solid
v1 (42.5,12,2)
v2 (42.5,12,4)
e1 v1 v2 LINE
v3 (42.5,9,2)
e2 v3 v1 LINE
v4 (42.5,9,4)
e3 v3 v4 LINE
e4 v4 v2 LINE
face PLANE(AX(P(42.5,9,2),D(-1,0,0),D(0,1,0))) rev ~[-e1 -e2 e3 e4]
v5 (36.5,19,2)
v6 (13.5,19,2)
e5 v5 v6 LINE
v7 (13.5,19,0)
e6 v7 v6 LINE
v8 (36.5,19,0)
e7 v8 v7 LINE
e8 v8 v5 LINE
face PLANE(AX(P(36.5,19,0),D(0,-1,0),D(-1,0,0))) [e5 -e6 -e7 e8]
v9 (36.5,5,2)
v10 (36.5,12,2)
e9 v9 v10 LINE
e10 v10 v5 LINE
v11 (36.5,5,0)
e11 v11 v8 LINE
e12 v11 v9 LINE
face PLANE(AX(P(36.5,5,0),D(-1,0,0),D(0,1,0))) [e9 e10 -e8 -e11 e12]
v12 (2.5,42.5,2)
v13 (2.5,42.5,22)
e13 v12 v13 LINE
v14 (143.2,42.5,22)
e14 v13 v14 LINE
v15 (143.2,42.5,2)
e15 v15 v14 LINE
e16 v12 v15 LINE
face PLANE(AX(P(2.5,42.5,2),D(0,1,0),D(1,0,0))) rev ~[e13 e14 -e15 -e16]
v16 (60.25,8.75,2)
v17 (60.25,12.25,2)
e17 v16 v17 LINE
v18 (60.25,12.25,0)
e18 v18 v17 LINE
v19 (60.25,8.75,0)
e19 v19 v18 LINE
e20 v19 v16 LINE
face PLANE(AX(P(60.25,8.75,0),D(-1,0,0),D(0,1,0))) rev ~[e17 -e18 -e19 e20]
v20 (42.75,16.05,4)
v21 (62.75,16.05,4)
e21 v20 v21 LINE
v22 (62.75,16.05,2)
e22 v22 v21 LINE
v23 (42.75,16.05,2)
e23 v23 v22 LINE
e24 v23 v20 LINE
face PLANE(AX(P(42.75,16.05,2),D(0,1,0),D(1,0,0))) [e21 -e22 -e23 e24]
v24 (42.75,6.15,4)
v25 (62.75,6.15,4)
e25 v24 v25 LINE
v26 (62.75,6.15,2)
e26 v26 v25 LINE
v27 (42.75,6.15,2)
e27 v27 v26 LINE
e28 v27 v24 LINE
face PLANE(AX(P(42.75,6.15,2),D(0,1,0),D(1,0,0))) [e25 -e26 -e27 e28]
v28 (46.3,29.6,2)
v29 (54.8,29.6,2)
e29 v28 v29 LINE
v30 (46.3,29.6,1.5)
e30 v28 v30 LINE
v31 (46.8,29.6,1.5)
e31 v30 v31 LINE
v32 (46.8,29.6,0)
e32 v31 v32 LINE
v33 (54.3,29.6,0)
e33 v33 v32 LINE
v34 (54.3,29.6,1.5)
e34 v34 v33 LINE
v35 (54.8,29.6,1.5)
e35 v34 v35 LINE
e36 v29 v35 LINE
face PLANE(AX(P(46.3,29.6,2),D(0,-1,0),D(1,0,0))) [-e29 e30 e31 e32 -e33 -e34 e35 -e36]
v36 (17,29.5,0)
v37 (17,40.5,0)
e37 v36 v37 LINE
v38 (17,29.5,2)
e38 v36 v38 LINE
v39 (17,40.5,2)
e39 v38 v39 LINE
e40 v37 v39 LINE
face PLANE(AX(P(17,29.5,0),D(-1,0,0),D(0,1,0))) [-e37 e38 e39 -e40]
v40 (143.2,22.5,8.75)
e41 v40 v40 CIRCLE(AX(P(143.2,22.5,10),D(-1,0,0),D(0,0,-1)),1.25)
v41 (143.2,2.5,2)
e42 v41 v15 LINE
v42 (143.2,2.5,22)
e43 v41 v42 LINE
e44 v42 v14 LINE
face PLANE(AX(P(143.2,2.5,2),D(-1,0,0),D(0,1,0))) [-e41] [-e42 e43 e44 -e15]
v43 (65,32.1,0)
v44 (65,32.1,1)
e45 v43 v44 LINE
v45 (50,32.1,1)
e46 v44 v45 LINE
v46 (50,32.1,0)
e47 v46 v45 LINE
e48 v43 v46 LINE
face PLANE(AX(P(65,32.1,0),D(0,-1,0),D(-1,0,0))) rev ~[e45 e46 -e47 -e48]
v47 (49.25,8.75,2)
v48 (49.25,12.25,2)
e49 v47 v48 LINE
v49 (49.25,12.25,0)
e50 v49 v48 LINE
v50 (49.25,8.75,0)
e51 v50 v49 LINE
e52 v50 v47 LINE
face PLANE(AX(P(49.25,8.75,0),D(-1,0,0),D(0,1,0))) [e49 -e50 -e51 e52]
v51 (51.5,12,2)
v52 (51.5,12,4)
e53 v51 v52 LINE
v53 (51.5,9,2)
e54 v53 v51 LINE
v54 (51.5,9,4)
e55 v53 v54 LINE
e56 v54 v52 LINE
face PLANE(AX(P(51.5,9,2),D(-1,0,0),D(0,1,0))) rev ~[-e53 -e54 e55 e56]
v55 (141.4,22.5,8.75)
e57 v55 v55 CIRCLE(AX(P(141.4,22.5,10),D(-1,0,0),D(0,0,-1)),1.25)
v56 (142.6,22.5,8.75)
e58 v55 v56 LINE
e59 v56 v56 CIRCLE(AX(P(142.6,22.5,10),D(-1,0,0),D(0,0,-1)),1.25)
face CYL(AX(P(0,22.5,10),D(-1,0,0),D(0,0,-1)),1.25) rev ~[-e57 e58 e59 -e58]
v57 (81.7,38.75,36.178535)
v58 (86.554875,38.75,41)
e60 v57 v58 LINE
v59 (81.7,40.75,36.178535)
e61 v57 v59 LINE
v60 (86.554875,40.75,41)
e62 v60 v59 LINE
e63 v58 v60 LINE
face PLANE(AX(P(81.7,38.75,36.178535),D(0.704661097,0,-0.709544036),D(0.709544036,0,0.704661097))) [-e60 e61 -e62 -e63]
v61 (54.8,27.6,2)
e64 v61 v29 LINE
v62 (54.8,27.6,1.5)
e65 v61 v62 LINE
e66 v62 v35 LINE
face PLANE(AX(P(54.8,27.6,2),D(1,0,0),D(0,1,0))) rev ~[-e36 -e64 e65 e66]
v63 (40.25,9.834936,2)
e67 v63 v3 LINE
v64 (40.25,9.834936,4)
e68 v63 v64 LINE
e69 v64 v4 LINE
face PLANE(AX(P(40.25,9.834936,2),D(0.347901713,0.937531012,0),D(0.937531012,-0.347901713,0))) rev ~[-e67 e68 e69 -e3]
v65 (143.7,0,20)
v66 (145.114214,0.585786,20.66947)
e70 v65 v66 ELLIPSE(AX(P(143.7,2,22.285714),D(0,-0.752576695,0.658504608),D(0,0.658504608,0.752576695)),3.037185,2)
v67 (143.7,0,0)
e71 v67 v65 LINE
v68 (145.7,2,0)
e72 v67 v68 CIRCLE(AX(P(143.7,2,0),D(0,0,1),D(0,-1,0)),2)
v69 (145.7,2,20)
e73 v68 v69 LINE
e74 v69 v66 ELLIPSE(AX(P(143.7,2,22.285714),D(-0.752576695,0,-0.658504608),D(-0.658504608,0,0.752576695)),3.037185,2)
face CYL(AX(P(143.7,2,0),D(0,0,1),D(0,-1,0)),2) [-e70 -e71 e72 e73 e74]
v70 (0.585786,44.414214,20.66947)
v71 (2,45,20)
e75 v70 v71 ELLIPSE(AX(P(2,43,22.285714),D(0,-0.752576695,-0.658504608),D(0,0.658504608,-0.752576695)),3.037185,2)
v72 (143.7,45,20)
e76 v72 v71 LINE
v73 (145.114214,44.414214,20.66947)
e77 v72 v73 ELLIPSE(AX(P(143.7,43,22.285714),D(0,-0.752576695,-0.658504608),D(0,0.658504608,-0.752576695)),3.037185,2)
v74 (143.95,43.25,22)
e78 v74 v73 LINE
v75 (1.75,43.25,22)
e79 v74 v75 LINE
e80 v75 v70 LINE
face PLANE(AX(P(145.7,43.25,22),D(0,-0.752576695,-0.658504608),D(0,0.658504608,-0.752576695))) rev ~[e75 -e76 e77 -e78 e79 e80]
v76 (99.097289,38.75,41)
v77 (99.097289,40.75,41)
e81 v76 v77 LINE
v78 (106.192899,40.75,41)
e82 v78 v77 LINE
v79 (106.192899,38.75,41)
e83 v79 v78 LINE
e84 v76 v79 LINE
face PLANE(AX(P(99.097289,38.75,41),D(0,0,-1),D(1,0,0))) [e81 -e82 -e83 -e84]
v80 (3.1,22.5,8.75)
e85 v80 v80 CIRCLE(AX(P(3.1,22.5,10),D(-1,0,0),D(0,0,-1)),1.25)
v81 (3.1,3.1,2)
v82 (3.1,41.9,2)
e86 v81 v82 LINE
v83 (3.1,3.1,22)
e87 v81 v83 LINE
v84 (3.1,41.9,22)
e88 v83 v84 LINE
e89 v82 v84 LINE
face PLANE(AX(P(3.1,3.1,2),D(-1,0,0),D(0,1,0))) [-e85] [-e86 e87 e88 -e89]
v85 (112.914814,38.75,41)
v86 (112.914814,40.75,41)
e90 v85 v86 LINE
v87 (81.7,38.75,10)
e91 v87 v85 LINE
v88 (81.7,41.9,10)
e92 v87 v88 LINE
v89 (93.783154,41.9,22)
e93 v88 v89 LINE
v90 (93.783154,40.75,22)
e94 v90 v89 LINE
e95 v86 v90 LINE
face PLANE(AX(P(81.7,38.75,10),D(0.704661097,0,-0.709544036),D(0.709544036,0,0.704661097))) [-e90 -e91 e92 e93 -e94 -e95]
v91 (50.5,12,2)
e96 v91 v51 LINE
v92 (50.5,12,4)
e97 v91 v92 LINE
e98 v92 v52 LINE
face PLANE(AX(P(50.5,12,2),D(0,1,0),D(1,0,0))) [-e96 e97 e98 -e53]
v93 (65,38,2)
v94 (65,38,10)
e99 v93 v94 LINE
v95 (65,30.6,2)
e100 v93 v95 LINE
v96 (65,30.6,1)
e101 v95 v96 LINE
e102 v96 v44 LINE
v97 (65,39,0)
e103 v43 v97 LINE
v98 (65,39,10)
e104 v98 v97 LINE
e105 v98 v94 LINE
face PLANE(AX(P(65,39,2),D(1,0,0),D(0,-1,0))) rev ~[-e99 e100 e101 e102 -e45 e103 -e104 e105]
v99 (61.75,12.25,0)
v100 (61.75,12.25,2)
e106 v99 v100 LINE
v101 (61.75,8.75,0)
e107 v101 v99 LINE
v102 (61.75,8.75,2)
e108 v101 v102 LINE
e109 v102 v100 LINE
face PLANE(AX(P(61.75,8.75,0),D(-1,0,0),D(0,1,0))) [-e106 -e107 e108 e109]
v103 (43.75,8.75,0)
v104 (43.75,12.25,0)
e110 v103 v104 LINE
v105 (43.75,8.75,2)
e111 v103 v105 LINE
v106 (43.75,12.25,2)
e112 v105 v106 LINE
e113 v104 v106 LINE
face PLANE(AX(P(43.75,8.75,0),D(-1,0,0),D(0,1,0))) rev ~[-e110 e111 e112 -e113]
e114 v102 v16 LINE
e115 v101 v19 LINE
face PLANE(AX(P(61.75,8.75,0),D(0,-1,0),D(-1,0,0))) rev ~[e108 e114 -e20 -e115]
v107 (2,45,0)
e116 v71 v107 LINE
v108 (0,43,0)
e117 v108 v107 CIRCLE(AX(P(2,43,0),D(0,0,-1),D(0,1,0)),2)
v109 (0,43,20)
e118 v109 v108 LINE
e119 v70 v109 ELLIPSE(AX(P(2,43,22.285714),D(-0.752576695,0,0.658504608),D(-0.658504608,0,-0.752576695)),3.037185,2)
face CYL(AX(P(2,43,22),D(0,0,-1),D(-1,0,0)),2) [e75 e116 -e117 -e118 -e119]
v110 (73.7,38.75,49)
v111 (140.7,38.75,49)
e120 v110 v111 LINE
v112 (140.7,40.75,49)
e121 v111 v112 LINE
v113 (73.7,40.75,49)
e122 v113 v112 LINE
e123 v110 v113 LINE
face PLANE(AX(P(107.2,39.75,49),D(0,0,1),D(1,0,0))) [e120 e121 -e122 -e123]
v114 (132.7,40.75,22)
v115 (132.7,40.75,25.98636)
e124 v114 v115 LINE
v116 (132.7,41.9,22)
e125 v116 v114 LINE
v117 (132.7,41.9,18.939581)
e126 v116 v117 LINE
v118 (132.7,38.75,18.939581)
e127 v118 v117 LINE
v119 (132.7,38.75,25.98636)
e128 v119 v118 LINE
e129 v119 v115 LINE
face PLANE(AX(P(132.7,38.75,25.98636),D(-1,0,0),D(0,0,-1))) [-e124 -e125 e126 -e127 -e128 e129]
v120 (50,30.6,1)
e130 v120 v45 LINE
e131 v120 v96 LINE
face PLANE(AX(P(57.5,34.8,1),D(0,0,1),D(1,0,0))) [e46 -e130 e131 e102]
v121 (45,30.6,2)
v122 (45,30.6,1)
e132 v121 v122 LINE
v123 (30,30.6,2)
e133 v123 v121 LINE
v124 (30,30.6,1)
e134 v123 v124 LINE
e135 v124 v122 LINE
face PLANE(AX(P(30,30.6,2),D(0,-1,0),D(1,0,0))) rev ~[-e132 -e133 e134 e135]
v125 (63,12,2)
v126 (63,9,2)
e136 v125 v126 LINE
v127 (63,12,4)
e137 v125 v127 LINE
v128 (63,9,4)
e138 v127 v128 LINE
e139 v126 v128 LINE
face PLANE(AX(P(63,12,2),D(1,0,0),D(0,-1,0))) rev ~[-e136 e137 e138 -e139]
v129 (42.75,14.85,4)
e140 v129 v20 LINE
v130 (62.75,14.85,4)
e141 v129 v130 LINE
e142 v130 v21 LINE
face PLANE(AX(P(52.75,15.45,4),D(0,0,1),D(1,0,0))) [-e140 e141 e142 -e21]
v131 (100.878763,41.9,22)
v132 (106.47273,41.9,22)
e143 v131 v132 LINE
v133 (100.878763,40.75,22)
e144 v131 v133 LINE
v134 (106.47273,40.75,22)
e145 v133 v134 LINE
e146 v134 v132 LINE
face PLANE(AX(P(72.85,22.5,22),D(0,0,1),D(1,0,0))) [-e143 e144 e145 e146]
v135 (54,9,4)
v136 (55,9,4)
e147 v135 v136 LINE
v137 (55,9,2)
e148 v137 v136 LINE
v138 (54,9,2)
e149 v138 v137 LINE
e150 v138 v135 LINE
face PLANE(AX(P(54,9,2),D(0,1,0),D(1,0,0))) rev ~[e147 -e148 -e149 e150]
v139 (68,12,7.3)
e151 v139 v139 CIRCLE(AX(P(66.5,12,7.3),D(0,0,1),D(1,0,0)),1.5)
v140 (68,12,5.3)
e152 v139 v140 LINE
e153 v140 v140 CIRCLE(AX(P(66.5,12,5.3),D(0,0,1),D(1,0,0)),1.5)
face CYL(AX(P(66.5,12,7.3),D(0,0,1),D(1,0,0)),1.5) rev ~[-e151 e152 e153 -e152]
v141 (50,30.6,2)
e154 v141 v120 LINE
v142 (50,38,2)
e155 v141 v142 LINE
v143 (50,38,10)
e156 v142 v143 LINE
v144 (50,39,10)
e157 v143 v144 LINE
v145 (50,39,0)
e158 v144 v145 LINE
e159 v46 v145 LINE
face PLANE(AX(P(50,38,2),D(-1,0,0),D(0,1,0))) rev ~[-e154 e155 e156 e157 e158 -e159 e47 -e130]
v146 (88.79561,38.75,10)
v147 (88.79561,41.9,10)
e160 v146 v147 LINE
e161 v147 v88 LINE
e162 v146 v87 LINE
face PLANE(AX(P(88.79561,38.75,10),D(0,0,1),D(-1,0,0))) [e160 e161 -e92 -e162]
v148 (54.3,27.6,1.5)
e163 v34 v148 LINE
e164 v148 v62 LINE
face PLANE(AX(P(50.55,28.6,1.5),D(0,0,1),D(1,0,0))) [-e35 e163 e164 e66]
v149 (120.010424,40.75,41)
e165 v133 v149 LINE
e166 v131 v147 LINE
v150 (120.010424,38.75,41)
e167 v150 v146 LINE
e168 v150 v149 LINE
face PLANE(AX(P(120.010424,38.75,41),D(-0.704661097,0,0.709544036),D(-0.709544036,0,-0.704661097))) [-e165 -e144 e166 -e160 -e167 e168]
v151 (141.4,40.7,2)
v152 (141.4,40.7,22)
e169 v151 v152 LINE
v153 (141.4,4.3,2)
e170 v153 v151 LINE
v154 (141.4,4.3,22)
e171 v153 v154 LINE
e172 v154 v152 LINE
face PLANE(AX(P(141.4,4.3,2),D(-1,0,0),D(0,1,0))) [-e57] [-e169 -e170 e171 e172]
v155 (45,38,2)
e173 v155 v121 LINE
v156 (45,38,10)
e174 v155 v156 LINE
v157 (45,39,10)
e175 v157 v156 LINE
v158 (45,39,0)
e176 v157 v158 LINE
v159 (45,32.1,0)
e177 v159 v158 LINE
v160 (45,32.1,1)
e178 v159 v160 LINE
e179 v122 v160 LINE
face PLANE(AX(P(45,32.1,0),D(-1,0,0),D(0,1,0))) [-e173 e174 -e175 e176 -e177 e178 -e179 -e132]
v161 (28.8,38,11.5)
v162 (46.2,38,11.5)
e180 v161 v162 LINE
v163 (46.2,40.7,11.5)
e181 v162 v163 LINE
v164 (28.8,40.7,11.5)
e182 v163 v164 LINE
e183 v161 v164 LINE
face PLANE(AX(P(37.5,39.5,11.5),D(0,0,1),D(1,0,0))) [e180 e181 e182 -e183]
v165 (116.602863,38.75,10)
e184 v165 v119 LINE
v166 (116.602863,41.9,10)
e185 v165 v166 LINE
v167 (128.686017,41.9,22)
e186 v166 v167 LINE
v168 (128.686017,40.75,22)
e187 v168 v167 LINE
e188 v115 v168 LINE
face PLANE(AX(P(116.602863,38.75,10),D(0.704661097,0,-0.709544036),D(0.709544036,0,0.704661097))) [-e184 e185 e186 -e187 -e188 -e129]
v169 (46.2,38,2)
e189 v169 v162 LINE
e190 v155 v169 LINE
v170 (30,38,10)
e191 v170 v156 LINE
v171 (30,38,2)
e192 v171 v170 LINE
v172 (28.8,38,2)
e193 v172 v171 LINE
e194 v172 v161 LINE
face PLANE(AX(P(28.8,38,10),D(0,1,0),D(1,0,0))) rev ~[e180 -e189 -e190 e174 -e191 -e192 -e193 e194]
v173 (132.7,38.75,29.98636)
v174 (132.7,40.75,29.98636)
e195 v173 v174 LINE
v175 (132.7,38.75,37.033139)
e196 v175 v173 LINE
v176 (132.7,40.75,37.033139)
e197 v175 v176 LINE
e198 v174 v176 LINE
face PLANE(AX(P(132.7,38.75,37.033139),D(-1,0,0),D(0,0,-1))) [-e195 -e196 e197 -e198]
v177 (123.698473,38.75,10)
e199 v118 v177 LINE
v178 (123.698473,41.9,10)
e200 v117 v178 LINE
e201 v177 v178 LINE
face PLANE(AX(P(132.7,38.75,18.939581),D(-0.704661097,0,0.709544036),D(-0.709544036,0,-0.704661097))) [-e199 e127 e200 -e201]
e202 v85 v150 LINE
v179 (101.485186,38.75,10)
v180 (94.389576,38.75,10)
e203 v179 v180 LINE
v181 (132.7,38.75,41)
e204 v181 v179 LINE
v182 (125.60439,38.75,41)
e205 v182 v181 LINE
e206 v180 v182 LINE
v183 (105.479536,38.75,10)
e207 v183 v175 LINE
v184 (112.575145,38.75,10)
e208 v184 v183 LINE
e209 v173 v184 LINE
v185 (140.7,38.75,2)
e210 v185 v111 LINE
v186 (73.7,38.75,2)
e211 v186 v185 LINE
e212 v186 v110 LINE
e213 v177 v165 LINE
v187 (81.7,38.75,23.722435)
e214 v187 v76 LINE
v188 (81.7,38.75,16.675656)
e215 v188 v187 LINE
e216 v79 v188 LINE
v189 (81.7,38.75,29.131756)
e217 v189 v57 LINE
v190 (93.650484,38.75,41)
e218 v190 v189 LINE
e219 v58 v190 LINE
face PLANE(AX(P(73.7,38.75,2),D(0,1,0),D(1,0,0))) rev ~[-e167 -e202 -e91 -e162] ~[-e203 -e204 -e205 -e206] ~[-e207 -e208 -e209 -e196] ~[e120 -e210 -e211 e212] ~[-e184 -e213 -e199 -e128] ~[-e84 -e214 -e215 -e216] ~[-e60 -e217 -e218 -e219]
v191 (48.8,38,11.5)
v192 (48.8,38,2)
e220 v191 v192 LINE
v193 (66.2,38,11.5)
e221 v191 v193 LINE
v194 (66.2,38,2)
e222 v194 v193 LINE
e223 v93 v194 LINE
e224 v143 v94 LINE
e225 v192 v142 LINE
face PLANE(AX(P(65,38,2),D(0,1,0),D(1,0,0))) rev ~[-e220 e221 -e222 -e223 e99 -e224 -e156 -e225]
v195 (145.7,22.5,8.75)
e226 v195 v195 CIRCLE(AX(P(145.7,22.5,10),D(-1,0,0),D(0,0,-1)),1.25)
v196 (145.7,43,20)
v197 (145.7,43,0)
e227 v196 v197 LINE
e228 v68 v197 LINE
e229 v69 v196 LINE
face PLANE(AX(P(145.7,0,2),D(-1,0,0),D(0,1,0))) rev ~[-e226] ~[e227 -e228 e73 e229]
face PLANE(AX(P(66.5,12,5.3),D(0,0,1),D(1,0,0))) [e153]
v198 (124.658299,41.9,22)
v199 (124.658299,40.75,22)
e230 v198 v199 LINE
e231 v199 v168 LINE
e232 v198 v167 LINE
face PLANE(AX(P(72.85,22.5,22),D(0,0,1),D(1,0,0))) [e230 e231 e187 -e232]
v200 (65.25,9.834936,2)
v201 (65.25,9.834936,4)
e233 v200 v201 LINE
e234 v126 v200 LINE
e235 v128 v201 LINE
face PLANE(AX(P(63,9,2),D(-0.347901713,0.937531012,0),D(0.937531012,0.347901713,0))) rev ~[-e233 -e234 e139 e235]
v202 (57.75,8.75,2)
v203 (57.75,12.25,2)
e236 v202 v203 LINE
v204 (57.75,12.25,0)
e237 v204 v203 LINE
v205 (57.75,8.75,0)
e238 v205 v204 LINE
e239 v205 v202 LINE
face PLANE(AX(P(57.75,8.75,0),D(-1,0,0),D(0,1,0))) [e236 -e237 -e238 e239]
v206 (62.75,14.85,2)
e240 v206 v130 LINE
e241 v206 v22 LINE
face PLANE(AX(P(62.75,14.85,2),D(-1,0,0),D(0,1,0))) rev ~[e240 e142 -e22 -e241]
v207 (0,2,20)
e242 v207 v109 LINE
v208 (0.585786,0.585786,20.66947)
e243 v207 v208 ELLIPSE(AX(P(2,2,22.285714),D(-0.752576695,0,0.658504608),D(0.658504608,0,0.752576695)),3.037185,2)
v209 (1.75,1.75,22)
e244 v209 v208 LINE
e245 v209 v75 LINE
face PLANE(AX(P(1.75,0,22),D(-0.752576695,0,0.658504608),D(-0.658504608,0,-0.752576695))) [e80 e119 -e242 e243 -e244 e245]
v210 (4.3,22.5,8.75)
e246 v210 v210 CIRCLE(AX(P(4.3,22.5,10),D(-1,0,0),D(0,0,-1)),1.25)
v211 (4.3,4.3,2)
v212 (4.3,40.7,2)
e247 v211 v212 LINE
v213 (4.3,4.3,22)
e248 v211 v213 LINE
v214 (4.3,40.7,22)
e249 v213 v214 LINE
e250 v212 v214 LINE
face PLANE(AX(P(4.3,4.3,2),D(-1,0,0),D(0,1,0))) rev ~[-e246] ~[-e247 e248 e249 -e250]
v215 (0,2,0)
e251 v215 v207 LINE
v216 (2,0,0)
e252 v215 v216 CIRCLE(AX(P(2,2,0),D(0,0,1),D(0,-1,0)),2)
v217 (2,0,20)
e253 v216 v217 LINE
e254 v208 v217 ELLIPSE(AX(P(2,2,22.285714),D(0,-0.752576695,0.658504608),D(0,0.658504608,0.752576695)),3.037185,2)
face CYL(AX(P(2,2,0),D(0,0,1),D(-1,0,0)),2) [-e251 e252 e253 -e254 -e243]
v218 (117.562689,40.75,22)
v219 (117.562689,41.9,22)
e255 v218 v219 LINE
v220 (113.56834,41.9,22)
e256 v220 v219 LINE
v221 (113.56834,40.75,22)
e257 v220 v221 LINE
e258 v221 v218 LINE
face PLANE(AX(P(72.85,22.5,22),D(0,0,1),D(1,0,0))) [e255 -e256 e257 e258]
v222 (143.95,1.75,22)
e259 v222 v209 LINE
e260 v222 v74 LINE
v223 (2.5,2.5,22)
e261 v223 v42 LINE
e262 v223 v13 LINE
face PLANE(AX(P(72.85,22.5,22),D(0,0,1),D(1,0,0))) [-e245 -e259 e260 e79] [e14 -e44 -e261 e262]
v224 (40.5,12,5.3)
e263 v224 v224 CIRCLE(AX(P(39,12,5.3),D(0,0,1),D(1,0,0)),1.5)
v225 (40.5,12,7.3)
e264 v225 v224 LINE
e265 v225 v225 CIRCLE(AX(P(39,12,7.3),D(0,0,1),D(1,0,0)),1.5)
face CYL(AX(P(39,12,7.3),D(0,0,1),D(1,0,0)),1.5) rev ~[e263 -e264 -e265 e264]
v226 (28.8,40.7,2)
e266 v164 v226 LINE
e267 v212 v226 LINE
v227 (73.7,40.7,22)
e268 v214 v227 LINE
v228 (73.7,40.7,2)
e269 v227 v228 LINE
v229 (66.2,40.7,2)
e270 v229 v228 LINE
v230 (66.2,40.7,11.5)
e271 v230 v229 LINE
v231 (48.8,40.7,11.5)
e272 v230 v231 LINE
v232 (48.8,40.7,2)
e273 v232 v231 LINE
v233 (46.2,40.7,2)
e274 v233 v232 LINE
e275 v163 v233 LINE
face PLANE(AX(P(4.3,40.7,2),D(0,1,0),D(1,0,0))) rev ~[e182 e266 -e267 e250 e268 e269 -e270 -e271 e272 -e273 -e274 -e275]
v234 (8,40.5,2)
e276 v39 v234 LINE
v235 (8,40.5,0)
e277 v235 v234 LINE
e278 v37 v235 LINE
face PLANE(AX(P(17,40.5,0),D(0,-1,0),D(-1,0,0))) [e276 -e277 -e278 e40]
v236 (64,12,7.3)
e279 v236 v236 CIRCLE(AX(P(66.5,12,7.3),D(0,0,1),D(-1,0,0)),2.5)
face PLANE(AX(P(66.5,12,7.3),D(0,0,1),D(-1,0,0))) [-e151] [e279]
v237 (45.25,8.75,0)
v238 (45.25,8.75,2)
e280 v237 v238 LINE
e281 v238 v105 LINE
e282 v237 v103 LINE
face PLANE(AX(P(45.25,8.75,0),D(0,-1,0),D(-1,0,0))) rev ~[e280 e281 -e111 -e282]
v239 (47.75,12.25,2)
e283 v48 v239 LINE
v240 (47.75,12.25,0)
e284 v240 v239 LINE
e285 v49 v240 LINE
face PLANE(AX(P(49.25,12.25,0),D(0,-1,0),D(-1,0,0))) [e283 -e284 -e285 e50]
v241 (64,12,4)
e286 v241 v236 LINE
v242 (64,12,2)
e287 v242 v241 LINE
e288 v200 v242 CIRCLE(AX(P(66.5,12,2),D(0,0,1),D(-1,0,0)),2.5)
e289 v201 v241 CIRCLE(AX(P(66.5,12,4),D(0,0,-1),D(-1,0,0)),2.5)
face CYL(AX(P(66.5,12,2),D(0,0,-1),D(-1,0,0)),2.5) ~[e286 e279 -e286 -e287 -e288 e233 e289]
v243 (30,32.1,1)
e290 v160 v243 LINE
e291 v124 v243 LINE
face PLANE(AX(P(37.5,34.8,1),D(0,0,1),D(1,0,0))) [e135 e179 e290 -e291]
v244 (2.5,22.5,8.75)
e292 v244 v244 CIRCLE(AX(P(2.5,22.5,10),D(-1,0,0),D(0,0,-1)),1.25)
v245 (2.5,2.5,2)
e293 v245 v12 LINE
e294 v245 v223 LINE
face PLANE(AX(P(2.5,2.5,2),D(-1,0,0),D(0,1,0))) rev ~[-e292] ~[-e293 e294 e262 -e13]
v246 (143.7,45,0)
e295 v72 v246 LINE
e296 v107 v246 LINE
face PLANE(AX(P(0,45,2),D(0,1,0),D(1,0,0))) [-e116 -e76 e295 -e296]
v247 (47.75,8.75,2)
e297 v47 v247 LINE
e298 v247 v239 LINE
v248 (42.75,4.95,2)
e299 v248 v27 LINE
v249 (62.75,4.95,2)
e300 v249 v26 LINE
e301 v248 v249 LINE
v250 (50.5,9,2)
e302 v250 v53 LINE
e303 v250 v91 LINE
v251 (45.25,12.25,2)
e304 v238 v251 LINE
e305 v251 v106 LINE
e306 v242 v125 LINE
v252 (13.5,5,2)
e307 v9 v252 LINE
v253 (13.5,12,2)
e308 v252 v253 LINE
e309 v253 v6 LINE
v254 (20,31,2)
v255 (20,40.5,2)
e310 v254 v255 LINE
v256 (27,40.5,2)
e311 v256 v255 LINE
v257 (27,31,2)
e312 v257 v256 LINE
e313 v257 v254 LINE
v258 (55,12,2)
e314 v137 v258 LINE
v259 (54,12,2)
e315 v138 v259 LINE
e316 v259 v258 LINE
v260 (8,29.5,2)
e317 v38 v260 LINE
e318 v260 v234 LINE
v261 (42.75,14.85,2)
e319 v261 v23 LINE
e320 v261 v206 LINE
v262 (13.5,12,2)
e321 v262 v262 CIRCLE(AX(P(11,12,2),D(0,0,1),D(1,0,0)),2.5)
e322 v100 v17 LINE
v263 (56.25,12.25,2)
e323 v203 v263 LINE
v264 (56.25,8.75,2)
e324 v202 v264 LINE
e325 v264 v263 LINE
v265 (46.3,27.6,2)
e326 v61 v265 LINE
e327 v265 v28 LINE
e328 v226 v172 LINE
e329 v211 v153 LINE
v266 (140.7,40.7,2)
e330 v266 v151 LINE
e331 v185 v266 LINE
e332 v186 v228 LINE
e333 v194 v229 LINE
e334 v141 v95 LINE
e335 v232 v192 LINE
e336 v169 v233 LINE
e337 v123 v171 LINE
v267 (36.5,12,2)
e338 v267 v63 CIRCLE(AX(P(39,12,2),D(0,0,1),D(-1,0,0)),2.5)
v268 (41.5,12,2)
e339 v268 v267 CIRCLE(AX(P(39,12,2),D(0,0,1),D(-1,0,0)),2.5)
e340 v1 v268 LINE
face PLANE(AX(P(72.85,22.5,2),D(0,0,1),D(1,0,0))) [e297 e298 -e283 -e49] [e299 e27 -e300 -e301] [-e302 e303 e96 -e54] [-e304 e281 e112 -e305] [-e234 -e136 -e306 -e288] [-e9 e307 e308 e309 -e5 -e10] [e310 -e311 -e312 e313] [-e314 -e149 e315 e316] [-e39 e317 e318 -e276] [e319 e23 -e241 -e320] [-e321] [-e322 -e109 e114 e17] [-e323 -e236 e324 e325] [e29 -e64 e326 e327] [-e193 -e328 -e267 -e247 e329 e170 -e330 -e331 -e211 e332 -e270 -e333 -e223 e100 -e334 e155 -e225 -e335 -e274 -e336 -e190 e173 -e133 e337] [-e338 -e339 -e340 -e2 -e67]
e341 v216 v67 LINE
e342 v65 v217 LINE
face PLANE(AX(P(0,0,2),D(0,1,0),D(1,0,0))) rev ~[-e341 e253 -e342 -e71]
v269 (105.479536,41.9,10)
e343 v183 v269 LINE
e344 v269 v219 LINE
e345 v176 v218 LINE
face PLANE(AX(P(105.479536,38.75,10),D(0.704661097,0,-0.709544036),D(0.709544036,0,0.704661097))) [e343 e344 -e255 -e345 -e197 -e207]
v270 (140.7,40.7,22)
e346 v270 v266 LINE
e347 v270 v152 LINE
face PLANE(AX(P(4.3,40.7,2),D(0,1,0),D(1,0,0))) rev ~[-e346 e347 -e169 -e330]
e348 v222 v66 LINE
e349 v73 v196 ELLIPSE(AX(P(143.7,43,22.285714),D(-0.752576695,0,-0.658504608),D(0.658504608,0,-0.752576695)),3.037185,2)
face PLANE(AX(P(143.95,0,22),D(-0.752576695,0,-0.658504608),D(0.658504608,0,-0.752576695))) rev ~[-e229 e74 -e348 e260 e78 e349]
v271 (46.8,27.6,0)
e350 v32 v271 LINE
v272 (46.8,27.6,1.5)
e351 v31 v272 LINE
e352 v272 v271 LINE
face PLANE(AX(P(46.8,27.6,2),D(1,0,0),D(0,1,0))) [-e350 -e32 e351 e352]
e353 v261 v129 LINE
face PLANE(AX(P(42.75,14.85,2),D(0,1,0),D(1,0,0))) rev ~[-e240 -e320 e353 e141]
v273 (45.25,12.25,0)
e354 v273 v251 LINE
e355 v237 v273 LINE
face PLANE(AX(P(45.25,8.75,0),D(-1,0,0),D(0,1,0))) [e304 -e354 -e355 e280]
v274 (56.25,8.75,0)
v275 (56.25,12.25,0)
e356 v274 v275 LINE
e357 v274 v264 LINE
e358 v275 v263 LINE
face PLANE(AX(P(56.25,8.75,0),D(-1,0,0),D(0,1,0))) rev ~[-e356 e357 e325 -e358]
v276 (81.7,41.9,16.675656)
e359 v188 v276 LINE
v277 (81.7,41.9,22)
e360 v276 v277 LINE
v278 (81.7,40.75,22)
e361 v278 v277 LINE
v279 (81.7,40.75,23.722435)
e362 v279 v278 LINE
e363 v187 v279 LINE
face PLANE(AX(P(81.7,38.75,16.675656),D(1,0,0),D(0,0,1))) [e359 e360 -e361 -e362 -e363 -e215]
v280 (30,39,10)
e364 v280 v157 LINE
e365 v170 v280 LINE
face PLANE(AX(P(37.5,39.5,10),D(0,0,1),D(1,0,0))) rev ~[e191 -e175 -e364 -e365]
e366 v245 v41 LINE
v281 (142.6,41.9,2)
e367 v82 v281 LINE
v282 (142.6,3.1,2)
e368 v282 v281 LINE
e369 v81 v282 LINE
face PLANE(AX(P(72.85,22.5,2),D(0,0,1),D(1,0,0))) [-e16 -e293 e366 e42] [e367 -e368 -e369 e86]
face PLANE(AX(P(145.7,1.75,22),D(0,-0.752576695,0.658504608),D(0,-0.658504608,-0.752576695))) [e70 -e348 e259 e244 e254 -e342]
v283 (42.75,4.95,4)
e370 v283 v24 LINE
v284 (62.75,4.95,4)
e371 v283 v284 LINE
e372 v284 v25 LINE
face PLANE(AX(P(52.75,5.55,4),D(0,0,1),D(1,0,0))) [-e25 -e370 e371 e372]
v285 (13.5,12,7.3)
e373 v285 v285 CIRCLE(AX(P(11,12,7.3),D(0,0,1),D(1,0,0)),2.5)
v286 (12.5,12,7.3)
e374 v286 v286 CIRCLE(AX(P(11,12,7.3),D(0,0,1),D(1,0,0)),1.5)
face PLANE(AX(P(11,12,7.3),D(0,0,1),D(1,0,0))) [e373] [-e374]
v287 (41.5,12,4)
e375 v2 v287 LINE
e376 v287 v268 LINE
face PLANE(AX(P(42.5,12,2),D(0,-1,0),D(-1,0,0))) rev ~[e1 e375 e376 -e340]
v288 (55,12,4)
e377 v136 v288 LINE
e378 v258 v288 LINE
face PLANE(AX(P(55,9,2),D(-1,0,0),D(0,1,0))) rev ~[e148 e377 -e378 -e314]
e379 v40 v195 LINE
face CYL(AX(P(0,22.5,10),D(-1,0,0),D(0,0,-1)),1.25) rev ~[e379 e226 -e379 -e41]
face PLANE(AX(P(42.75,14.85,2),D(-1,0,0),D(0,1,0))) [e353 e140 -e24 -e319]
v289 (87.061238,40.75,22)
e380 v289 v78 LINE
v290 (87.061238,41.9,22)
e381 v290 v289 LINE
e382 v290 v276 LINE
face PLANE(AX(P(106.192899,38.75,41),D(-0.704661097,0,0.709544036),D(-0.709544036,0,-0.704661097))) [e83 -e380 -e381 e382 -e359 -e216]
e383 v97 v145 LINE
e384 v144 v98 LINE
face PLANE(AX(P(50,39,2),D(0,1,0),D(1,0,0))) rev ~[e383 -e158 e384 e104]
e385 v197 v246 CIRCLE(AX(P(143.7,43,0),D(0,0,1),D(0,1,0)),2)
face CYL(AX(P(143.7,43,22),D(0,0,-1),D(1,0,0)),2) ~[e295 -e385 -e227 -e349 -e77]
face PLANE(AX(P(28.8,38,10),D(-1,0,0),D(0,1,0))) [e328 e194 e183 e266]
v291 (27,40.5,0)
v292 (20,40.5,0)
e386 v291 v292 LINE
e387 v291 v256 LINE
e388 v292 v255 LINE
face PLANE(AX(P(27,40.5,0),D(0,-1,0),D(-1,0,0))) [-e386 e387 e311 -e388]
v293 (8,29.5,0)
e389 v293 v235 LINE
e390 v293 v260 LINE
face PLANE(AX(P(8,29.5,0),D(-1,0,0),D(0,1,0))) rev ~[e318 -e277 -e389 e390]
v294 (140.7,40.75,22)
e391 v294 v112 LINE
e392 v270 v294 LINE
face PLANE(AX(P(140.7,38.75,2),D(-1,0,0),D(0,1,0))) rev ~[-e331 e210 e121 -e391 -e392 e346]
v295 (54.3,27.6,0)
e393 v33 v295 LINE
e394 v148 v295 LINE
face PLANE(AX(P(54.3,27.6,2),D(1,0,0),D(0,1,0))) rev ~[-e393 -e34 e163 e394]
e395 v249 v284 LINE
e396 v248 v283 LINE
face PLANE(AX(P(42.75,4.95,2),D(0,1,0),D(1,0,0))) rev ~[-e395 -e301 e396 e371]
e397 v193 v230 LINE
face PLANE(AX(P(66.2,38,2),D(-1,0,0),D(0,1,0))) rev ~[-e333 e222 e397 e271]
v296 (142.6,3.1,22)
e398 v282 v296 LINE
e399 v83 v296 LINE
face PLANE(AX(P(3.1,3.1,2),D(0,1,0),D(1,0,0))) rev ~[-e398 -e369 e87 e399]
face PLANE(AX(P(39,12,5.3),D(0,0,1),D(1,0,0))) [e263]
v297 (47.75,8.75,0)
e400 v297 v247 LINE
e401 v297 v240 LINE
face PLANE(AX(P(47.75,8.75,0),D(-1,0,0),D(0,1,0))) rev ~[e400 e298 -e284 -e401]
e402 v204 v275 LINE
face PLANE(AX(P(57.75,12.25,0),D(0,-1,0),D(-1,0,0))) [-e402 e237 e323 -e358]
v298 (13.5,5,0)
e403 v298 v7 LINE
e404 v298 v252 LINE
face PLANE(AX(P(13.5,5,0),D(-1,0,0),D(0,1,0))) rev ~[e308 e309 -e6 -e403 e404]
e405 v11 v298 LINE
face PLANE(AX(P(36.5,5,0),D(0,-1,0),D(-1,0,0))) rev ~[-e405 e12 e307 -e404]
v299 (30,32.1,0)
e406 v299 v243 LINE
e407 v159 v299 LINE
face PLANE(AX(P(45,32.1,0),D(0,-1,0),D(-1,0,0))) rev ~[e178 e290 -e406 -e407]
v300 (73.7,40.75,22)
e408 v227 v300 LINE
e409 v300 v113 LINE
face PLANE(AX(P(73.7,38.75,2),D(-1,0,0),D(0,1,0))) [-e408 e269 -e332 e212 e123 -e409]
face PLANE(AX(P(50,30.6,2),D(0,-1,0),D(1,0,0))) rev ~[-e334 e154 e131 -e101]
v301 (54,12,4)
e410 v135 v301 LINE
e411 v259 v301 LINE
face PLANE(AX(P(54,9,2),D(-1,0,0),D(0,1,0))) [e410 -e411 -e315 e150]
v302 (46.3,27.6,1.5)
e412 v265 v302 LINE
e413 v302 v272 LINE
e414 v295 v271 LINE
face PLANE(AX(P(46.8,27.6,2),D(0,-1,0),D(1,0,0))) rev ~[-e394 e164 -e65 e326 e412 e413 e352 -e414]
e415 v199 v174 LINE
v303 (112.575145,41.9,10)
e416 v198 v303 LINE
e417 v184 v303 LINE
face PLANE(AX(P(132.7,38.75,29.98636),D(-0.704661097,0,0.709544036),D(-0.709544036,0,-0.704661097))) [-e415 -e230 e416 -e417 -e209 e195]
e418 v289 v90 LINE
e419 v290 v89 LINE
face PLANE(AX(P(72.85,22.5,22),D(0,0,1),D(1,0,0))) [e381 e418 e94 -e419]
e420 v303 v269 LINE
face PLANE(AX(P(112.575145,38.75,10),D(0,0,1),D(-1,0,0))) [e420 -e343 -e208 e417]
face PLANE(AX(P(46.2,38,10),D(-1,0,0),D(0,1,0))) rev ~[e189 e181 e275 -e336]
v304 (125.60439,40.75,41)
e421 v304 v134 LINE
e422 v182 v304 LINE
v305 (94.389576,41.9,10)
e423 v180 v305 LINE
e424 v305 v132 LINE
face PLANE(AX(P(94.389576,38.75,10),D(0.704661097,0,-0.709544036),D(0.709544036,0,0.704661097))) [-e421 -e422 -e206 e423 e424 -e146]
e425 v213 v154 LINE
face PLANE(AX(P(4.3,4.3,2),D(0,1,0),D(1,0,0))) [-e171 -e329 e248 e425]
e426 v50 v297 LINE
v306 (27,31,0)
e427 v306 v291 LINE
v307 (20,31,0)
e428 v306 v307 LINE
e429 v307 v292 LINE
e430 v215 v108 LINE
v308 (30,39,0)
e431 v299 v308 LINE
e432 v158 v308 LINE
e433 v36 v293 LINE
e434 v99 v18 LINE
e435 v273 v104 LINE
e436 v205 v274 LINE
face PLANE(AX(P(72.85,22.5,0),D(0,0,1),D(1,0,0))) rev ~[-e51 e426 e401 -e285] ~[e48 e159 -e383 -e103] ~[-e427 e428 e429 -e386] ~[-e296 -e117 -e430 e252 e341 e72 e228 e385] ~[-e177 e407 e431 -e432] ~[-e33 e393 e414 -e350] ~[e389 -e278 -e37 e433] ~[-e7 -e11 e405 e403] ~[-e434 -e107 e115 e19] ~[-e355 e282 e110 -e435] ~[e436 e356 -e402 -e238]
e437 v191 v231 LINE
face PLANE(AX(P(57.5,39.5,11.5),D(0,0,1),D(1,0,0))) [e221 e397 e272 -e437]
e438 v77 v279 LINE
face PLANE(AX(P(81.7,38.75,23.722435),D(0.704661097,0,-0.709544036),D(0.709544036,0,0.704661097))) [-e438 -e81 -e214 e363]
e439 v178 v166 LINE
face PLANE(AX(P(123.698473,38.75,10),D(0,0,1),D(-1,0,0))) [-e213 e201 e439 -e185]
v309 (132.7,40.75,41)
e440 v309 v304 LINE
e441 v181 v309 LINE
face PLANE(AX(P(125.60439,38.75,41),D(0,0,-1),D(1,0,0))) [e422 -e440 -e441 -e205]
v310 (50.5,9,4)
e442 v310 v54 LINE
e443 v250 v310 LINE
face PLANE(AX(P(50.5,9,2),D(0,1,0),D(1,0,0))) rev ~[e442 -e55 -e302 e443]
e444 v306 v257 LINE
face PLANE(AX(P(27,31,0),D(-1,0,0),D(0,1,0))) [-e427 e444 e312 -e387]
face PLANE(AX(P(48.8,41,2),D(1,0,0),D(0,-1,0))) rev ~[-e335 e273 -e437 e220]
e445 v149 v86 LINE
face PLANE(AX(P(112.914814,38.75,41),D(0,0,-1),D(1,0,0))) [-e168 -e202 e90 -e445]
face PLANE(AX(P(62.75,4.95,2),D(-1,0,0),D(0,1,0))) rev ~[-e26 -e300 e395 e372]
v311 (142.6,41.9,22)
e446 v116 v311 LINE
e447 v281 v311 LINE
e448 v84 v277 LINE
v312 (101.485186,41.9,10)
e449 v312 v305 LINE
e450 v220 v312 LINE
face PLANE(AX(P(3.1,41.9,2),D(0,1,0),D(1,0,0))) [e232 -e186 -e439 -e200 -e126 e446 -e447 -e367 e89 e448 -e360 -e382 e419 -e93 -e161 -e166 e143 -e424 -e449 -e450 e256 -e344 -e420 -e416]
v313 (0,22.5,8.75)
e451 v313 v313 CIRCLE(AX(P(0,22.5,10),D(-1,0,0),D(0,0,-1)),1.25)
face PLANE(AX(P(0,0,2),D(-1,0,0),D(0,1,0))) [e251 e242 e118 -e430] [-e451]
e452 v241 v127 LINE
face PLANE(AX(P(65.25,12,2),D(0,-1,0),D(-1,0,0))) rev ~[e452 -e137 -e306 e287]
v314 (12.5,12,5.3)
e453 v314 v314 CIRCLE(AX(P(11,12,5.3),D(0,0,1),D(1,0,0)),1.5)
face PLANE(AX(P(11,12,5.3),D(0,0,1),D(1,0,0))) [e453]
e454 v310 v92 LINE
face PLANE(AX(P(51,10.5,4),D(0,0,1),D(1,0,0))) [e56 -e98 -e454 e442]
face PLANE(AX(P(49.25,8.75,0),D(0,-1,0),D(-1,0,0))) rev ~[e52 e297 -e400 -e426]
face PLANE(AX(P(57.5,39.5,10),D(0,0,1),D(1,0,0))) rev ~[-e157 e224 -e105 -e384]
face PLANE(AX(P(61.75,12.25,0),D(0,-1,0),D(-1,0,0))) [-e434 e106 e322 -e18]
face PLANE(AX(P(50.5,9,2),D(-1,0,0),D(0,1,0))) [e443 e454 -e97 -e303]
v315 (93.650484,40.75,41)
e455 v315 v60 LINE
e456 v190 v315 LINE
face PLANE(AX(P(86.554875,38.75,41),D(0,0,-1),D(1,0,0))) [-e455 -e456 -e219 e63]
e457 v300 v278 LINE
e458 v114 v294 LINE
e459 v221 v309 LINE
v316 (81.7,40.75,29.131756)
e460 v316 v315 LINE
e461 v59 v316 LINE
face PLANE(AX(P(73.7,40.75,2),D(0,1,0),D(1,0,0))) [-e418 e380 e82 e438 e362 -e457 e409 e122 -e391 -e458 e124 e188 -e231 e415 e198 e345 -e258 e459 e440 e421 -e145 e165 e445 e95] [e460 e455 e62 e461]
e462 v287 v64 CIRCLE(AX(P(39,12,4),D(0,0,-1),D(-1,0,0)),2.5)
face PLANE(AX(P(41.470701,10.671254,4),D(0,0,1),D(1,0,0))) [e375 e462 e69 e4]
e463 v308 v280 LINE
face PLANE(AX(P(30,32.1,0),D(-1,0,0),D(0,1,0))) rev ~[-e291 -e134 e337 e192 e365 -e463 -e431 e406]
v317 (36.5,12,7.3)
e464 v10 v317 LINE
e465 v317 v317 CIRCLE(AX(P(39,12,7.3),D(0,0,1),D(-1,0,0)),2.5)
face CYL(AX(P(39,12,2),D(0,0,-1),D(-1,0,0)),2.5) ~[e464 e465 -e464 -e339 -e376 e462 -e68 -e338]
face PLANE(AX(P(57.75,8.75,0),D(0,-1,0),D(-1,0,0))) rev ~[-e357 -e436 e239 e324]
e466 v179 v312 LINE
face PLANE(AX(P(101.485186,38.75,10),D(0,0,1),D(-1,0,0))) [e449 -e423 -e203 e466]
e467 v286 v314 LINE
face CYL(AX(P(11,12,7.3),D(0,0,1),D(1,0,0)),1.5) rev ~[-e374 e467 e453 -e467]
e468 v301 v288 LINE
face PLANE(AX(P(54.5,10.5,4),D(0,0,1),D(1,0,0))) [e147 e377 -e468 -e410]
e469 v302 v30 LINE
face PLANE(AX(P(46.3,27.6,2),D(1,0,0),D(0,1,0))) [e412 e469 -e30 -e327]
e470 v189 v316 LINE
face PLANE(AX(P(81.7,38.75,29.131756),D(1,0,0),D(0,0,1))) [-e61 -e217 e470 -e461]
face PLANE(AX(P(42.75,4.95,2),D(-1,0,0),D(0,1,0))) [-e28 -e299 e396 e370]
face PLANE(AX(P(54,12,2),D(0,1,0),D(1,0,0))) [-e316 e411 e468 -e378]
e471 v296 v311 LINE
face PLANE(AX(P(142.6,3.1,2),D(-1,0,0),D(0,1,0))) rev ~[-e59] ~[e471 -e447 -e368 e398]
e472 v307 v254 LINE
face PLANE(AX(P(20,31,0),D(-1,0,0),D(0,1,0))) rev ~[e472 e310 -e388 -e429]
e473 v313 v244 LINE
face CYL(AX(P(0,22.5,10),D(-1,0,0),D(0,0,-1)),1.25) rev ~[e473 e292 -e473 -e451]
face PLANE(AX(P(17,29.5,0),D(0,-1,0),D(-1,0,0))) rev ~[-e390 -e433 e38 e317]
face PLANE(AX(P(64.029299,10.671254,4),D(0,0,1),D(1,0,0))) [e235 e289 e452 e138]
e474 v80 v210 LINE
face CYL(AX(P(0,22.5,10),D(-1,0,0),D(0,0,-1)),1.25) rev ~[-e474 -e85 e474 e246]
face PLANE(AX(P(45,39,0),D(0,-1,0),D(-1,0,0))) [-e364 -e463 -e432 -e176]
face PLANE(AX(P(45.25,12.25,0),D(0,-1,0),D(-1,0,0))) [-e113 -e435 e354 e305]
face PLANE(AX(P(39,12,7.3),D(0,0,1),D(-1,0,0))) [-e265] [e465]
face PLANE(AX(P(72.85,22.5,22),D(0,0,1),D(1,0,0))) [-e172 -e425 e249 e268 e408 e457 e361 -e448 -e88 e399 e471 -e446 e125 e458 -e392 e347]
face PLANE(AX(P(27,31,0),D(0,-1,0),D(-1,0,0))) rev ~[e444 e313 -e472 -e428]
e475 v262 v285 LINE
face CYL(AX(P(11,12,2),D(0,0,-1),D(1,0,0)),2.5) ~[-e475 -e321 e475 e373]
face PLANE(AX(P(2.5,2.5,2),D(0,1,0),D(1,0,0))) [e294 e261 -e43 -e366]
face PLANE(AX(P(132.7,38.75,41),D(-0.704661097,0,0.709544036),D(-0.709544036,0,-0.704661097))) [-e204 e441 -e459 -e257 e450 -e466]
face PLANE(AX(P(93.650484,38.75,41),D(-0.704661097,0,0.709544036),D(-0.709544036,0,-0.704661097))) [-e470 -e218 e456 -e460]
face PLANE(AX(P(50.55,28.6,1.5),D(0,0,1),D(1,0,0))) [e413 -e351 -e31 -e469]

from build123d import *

# Parameters (mm, degrees)
SKETCH1_W                = 145.7
SKETCH1_H                = 45
BOSS_EXTRUDE1_DEPTH      = 2
USB_REACH                = 154.504
SKETCH2_W                = 15
SKETCH2_H                = 6.9
SKETCH3_W                = 15
SKETCH3_H                = 8.4
USB_BACK_DEPTH           = 1
USB_BACK_SUPPORT_DEPTH   = 8
SKETCH5_W                = 17.4
SKETCH5_H                = 3
USB_BACK_SUPPORT_2_DEPTH = 1.5
VOLTMETER_HOLE_REACH     = 154.924
SKETCH6_W                = 23
SKETCH6_H                = 14
SKETCH7_R                = 2.5
VOLTMETER_PLOT_DEPTH     = 5.3
SKETCH10_R               = 1.5
PLOT_HOLE_DEPTH          = 2
SKETCH8_W                = 67
SKETCH8_H                = 2
BOSS_EXTRUDE5_DEPTH      = 47
DC_REACH                 = 162.17
SKETCH9_W                = 7
SKETCH9_H                = 9.5
SKETCH9_W_2              = 9
SKETCH9_H_2              = 11
SWITCH_HOLA_REACH        = 162.17
SKETCH11_W               = 1.5
SKETCH11_H               = 3.5
SKETCH12_W               = 20
SKETCH12_H               = 1.2
SKETCH12_W_2             = 1
SKETCH12_H_2             = 3
SWITCH_BLOCK_DEPTH       = 2
TROU_ROULETTE_REACH      = 161.57
SKETCH15_W               = 7.5
SKETCH15_H               = 2
SKETCH16_W               = 8.5
SKETCH16_H               = 2
CUT_EXTRUDE2_DEPTH       = 0.5
SKETCH17_W               = 145.7
SKETCH17_H               = 45
SKETCH17_W_2             = 140.7
SKETCH17_H_2             = 40
SKETCH17_W_3             = 139.5
SKETCH17_H_3             = 38.8
SKETCH17_W_4             = 137.1
SKETCH17_H_4             = 36.4
BORD_DEPTH               = 20
FILLET1_R                = 2
CUT_EXTRUDE3_REACH       = 160.528
CUT_EXTRUDE4_REACH       = 162.17
CUT_EXTRUDE5_REACH       = 162.17
CUT_EXTRUDE6_REACH       = 162.17
SKETCH21_R               = 1.25


with BuildPart() as part:
    # Sketch1 → Boss-Extrude1 (new body)
    with BuildSketch(Plane.XY):
        with Locations((72.85, 22.5)):
            Rectangle(SKETCH1_W, SKETCH1_H)
    extrude(amount=BOSS_EXTRUDE1_DEPTH)

    # Sketch2 → usb (cut, up to next)
    with BuildSketch(Plane(origin=(0, 0, 0), x_dir=(-1, 0, 0), z_dir=(0, 0, -1)), mode=Mode.PRIVATE) as usb_sk1:
        with Locations((-37.5, 35.55)):
            Rectangle(SKETCH2_W, SKETCH2_H)
    usb_tool1 = extrude(usb_sk1.sketch, amount=-USB_REACH, mode=Mode.PRIVATE) & part.part
    # Sketch2 → usb (cut, up to next)
    with BuildSketch(Plane(origin=(0, 0, 0), x_dir=(-1, 0, 0), z_dir=(0, 0, -1)), mode=Mode.PRIVATE) as usb_sk2:
        with Locations((-57.5, 35.55)):
            Rectangle(SKETCH2_W, SKETCH2_H)
    usb_tool2 = extrude(usb_sk2.sketch, amount=-USB_REACH, mode=Mode.PRIVATE) & part.part
    add(usb_tool1.solids().sort_by_distance((37.5, 35.55, 0))[0], mode=Mode.SUBTRACT)
    add(usb_tool2.solids().sort_by_distance((57.5, 35.55, 0))[0], mode=Mode.SUBTRACT)

    # Sketch3 → usb_back (cut)
    with BuildSketch(Plane.XY.offset(2)):
        with Locations((37.5, 34.8)):
            Rectangle(SKETCH3_W, SKETCH3_H)
        with Locations((57.5, 34.8)):
            Rectangle(SKETCH3_W, SKETCH3_H)
    extrude(amount=-USB_BACK_DEPTH, mode=Mode.SUBTRACT)

    # Sketch4 → usb_back_support (add)
    with BuildSketch(Plane.XY.offset(2)):
        Polygon((65, 39), (65, 38), (66.2, 38), (66.2, 41), (48.8, 41), (48.8, 38), (50, 38), (50, 39), align=None)
        Polygon((45, 39), (45, 38), (46.2, 38), (46.2, 41), (28.8, 41), (28.8, 38), (30, 38), (30, 39), align=None)
    extrude(amount=USB_BACK_SUPPORT_DEPTH)

    # Sketch5 → usb_back_support_2 (add)
    with BuildSketch(Plane.XY.offset(10)):
        with Locations((37.5, 39.5)):
            Rectangle(SKETCH5_W, SKETCH5_H)
        with Locations((57.5, 39.5)):
            Rectangle(SKETCH5_W, SKETCH5_H)
    extrude(amount=USB_BACK_SUPPORT_2_DEPTH)

    # Sketch6 → voltmeter_hole (cut, up to next)
    with BuildSketch(Plane(origin=(0, 0, 0), x_dir=(-1, 0, 0), z_dir=(0, 0, -1)), mode=Mode.PRIVATE) as voltmeter_hole_sk1:
        with Locations((-25, 12)):
            Rectangle(SKETCH6_W, SKETCH6_H)
    voltmeter_hole_tool1 = extrude(voltmeter_hole_sk1.sketch, amount=-VOLTMETER_HOLE_REACH, mode=Mode.PRIVATE) & part.part
    add(voltmeter_hole_tool1.solids().sort_by_distance((25, 12, 0))[0], mode=Mode.SUBTRACT)

    # Sketch7 → voltmeter_plot (add)
    with BuildSketch(Plane.XY.offset(2)):
        with Locations(Location((66.5, 12, 0), (0, 0, 180))):
            Circle(SKETCH7_R)
        with Locations(Location((39, 12, 0), (0, 0, 180))):
            Circle(SKETCH7_R)
        with Locations((11, 12)):
            Circle(SKETCH7_R)
    extrude(amount=VOLTMETER_PLOT_DEPTH)

    # Sketch10 → plot_hole (cut)
    with BuildSketch(Plane.XY.offset(7.3)):
        with Locations((66.5, 12)):
            Circle(SKETCH10_R)
        with Locations((39, 12)):
            Circle(SKETCH10_R)
        with Locations((11, 12)):
            Circle(SKETCH10_R)
    extrude(amount=-PLOT_HOLE_DEPTH, mode=Mode.SUBTRACT)

    # Sketch8 → Boss-Extrude5 (add)
    with BuildSketch(Plane.XY.offset(2)):
        with Locations((107.2, 39.75)):
            Rectangle(SKETCH8_W, SKETCH8_H)
    extrude(amount=BOSS_EXTRUDE5_DEPTH)

    # Sketch9 → dc (cut, up to next)
    with BuildSketch(Plane(origin=(0, 0, 0), x_dir=(-1, 0, 0), z_dir=(0, 0, -1)), mode=Mode.PRIVATE) as dc_sk1:
        with Locations((-23.5, 35.75)):
            Rectangle(SKETCH9_W, SKETCH9_H)
    dc_tool1 = extrude(dc_sk1.sketch, amount=-DC_REACH, mode=Mode.PRIVATE) & part.part
    # Sketch9 → dc (cut, up to next)
    with BuildSketch(Plane(origin=(0, 0, 0), x_dir=(-1, 0, 0), z_dir=(0, 0, -1)), mode=Mode.PRIVATE) as dc_sk2:
        with Locations((-12.5, 35)):
            Rectangle(SKETCH9_W_2, SKETCH9_H_2)
    dc_tool2 = extrude(dc_sk2.sketch, amount=-DC_REACH, mode=Mode.PRIVATE) & part.part
    add(dc_tool1.solids().sort_by_distance((23.5, 35.75, 0))[0], mode=Mode.SUBTRACT)
    add(dc_tool2.solids().sort_by_distance((12.5, 35, 0))[0], mode=Mode.SUBTRACT)

    # Sketch11 → switch_hola (cut, up to next)
    with BuildSketch(Plane(origin=(0, 0, 0), x_dir=(-1, 0, 0), z_dir=(0, 0, -1)), mode=Mode.PRIVATE) as switch_hola_sk1:
        with Locations((-44.5, 10.5)):
            Rectangle(SKETCH11_W, SKETCH11_H)
    switch_hola_tool1 = extrude(switch_hola_sk1.sketch, amount=-SWITCH_HOLA_REACH, mode=Mode.PRIVATE) & part.part
    # Sketch11 → switch_hola (cut, up to next)
    with BuildSketch(Plane(origin=(0, 0, 0), x_dir=(-1, 0, 0), z_dir=(0, 0, -1)), mode=Mode.PRIVATE) as switch_hola_sk2:
        with Locations((-48.5, 10.5)):
            Rectangle(SKETCH11_W, SKETCH11_H)
    switch_hola_tool2 = extrude(switch_hola_sk2.sketch, amount=-SWITCH_HOLA_REACH, mode=Mode.PRIVATE) & part.part
    # Sketch11 → switch_hola (cut, up to next)
    with BuildSketch(Plane(origin=(0, 0, 0), x_dir=(-1, 0, 0), z_dir=(0, 0, -1)), mode=Mode.PRIVATE) as switch_hola_sk3:
        with Locations((-57, 10.5)):
            Rectangle(SKETCH11_W, SKETCH11_H)
    switch_hola_tool3 = extrude(switch_hola_sk3.sketch, amount=-SWITCH_HOLA_REACH, mode=Mode.PRIVATE) & part.part
    # Sketch11 → switch_hola (cut, up to next)
    with BuildSketch(Plane(origin=(0, 0, 0), x_dir=(-1, 0, 0), z_dir=(0, 0, -1)), mode=Mode.PRIVATE) as switch_hola_sk4:
        with Locations((-61, 10.5)):
            Rectangle(SKETCH11_W, SKETCH11_H)
    switch_hola_tool4 = extrude(switch_hola_sk4.sketch, amount=-SWITCH_HOLA_REACH, mode=Mode.PRIVATE) & part.part
    add(switch_hola_tool1.solids().sort_by_distance((44.5, 10.5, 0))[0], mode=Mode.SUBTRACT)
    add(switch_hola_tool2.solids().sort_by_distance((48.5, 10.5, 0))[0], mode=Mode.SUBTRACT)
    add(switch_hola_tool3.solids().sort_by_distance((57, 10.5, 0))[0], mode=Mode.SUBTRACT)
    add(switch_hola_tool4.solids().sort_by_distance((61, 10.5, 0))[0], mode=Mode.SUBTRACT)

    # Sketch12 → switch_block (add)
    with BuildSketch(Plane.XY.offset(2)):
        with Locations((52.75, 15.45)):
            Rectangle(SKETCH12_W, SKETCH12_H)
        Polygon((65.25, 12), (63, 12), (63, 9), (65.25, 9.834936491), align=None)
        with Locations((54.5, 10.5)):
            Rectangle(SKETCH12_W_2, SKETCH12_H_2)
        with Locations((51, 10.5)):
            Rectangle(SKETCH12_W_2, SKETCH12_H_2)
        Polygon((42.5, 9), (42.5, 12), (40.25, 12), (40.25, 9.834936491), align=None)
        with Locations((52.75, 5.55)):
            Rectangle(SKETCH12_W, SKETCH12_H)
    extrude(amount=SWITCH_BLOCK_DEPTH)

    # Sketch15 → trou roulette (cut, up to next)
    with BuildSketch(Plane.XY.offset(2), mode=Mode.PRIVATE) as trou_roulette_sk1:
        with Locations((50.55, 28.6)):
            Rectangle(SKETCH15_W, SKETCH15_H)
    trou_roulette_tool1 = extrude(trou_roulette_sk1.sketch, amount=-TROU_ROULETTE_REACH, mode=Mode.PRIVATE) & part.part
    add(trou_roulette_tool1.solids().sort_by_distance((50.55, 28.6, 2))[0], mode=Mode.SUBTRACT)

    # Sketch16 → Cut-Extrude2 (cut)
    with BuildSketch(Plane.XY.offset(2)):
        with Locations((50.55, 28.6)):
            Rectangle(SKETCH16_W, SKETCH16_H)
    extrude(amount=-CUT_EXTRUDE2_DEPTH, mode=Mode.SUBTRACT)

    # Sketch17 → bord (add)
    # profile 1 of 2: a face of its own
    with BuildSketch(Plane.XY.offset(2)):
        with Locations((72.85, 22.5)):
            Rectangle(SKETCH17_W, SKETCH17_H)
        with Locations((72.85, 22.5)):
            Rectangle(SKETCH17_W_2, SKETCH17_H_2, mode=Mode.SUBTRACT)
    # profile 2 of 2: a face of its own
    with BuildSketch(Plane.XY.offset(2)):
        with Locations((72.85, 22.5)):
            Rectangle(SKETCH17_W_3, SKETCH17_H_3)
        with Locations((72.85, 22.5)):
            Rectangle(SKETCH17_W_4, SKETCH17_H_4, mode=Mode.SUBTRACT)
    extrude(amount=BORD_DEPTH)

    # Fillet1
    fillet1_edges = [part.edges().sort_by_distance(p)[0] for p in [
        (0, 45, 11),
        (145.7, 45, 11),
        (145.7, 0, 11),
        (0, 0, 11),
    ]]
    fillet(fillet1_edges, radius=FILLET1_R)

    # Cut-Extrude3: up to this face of the body (flat: up to its plane)
    cut_extrude3_end = Plane(part.part.faces().sort_by_distance((72.85, 41.9, 12))[0])
    # Sketch18 → Cut-Extrude3 (cut, up to the picked face)
    with BuildSketch(Plane.XZ.offset(-38.75), mode=Mode.PRIVATE) as cut_extrude3_sk1:
        Polygon((81.7, 36.178535443), (86.554874827, 41), (93.650484366, 41), (81.7, 29.131756459), align=None)
    cut_extrude3_tool1 = split(extrude(cut_extrude3_sk1.sketch, amount=-CUT_EXTRUDE3_REACH, mode=Mode.PRIVATE), bisect_by=cut_extrude3_end, keep=Keep.BOTH, mode=Mode.PRIVATE)
    # Sketch18 → Cut-Extrude3 (cut, up to the picked face)
    with BuildSketch(Plane.XZ.offset(-38.75), mode=Mode.PRIVATE) as cut_extrude3_sk2:
        Polygon((81.7, 23.722435448), (99.09728919, 41), (106.192898729, 41), (81.7, 16.675656464), align=None)
    cut_extrude3_tool2 = split(extrude(cut_extrude3_sk2.sketch, amount=-CUT_EXTRUDE3_REACH, mode=Mode.PRIVATE), bisect_by=cut_extrude3_end, keep=Keep.BOTH, mode=Mode.PRIVATE)
    # Sketch18 → Cut-Extrude3 (cut, up to the picked face)
    with BuildSketch(Plane.XZ.offset(-38.75), mode=Mode.PRIVATE) as cut_extrude3_sk3:
        Polygon((81.7, 10), (112.91481406, 41), (120.010423599, 41), (88.795609539, 10), align=None)
    cut_extrude3_tool3 = split(extrude(cut_extrude3_sk3.sketch, amount=-CUT_EXTRUDE3_REACH, mode=Mode.PRIVATE), bisect_by=cut_extrude3_end, keep=Keep.BOTH, mode=Mode.PRIVATE)
    # Sketch18 → Cut-Extrude3 (cut, up to the picked face)
    with BuildSketch(Plane.XZ.offset(-38.75), mode=Mode.PRIVATE) as cut_extrude3_sk4:
        Polygon((94.389576401, 10), (125.604390461, 41), (132.7, 41), (101.48518594, 10), align=None)
    cut_extrude3_tool4 = split(extrude(cut_extrude3_sk4.sketch, amount=-CUT_EXTRUDE3_REACH, mode=Mode.PRIVATE), bisect_by=cut_extrude3_end, keep=Keep.BOTH, mode=Mode.PRIVATE)
    # Sketch18 → Cut-Extrude3 (cut, up to the picked face)
    with BuildSketch(Plane.XZ.offset(-38.75), mode=Mode.PRIVATE) as cut_extrude3_sk5:
        Polygon((105.479535572, 10), (132.7, 37.033138678), (132.7, 29.986359693), (112.575145111, 10), align=None)
    cut_extrude3_tool5 = split(extrude(cut_extrude3_sk5.sketch, amount=-CUT_EXTRUDE3_REACH, mode=Mode.PRIVATE), bisect_by=cut_extrude3_end, keep=Keep.BOTH, mode=Mode.PRIVATE)
    # Sketch18 → Cut-Extrude3 (cut, up to the picked face)
    with BuildSketch(Plane.XZ.offset(-38.75), mode=Mode.PRIVATE) as cut_extrude3_sk6:
        Polygon((116.602863055, 10), (132.7, 25.986359693), (132.7, 18.939580709), (123.698472594, 10), align=None)
    cut_extrude3_tool6 = split(extrude(cut_extrude3_sk6.sketch, amount=-CUT_EXTRUDE3_REACH, mode=Mode.PRIVATE), bisect_by=cut_extrude3_end, keep=Keep.BOTH, mode=Mode.PRIVATE)
    add(cut_extrude3_tool1.solids().sort_by(Axis((86.151001, 38.75, 36.57963), (0, 1, 0)))[0], mode=Mode.SUBTRACT)
    add(cut_extrude3_tool2.solids().sort_by(Axis((92.272705, 38.75, 30.500054), (0, 1, 0)))[0], mode=Mode.SUBTRACT)
    add(cut_extrude3_tool3.solids().sort_by(Axis((100.855212, 38.75, 25.5), (0, 1, 0)))[0], mode=Mode.SUBTRACT)
    add(cut_extrude3_tool4.solids().sort_by(Axis((113.544788, 38.75, 25.5), (0, 1, 0)))[0], mode=Mode.SUBTRACT)
    add(cut_extrude3_tool5.solids().sort_by(Axis((120.775052, 38.75, 21.842883), (0, 1, 0)))[0], mode=Mode.SUBTRACT)
    add(cut_extrude3_tool6.solids().sort_by(Axis((126.258168, 38.75, 16.397501), (0, 1, 0)))[0], mode=Mode.SUBTRACT)

    # Cut-Extrude4: up to this face of the body (flat: up to its plane)
    cut_extrude4_end = Plane(part.part.faces().sort_by_distance((0, 22.5, 11))[0])
    # Sketch19 → Cut-Extrude4 (cut, up to the picked face)
    with BuildSketch(Plane(origin=(145.7, 0, 0), x_dir=(0, 0, -1), z_dir=(1, 0, 0)), mode=Mode.PRIVATE) as cut_extrude4_sk1:
        Polygon((-22, 43.25), (-20, 45), (-22, 45), align=None)
    cut_extrude4_tool1 = split(extrude(cut_extrude4_sk1.sketch, amount=-CUT_EXTRUDE4_REACH, mode=Mode.PRIVATE), bisect_by=cut_extrude4_end, keep=Keep.BOTH, mode=Mode.PRIVATE)
    # Sketch19 → Cut-Extrude4 (cut, up to the picked face)
    with BuildSketch(Plane(origin=(145.7, 0, 0), x_dir=(0, 0, -1), z_dir=(1, 0, 0)), mode=Mode.PRIVATE) as cut_extrude4_sk2:
        Polygon((-22, 1.75), (-20, 0), (-22, 0), align=None)
    cut_extrude4_tool2 = split(extrude(cut_extrude4_sk2.sketch, amount=-CUT_EXTRUDE4_REACH, mode=Mode.PRIVATE), bisect_by=cut_extrude4_end, keep=Keep.BOTH, mode=Mode.PRIVATE)
    add(cut_extrude4_tool1.solids().sort_by(Axis((145.7, 44.416667, 21.333333), (-1, 0, 0)))[0], mode=Mode.SUBTRACT)
    add(cut_extrude4_tool2.solids().sort_by(Axis((145.7, 0.583333, 21.333333), (-1, 0, 0)))[0], mode=Mode.SUBTRACT)

    # Cut-Extrude5: up to this face of the body (flat: up to its plane)
    cut_extrude5_end = Plane(part.part.faces().sort_by_distance((72.85, 45, 10))[0])
    # Sketch20 → Cut-Extrude5 (cut, up to the picked face)
    with BuildSketch(Plane(origin=(0, 0, 0), x_dir=(-1, 0, 0), z_dir=(0, -1, 0)), mode=Mode.PRIVATE) as cut_extrude5_sk1:
        Polygon((-143.95, -22), (-145.7, -20), (-145.7, -22), align=None)
    cut_extrude5_tool1 = split(extrude(cut_extrude5_sk1.sketch, amount=-CUT_EXTRUDE5_REACH, mode=Mode.PRIVATE), bisect_by=cut_extrude5_end, keep=Keep.BOTH, mode=Mode.PRIVATE)
    # Sketch20 → Cut-Extrude5 (cut, up to the picked face)
    with BuildSketch(Plane(origin=(0, 0, 0), x_dir=(-1, 0, 0), z_dir=(0, -1, 0)), mode=Mode.PRIVATE) as cut_extrude5_sk2:
        Polygon((-1.75, -22), (0, -20), (0, -22), align=None)
    cut_extrude5_tool2 = split(extrude(cut_extrude5_sk2.sketch, amount=-CUT_EXTRUDE5_REACH, mode=Mode.PRIVATE), bisect_by=cut_extrude5_end, keep=Keep.BOTH, mode=Mode.PRIVATE)
    add(cut_extrude5_tool1.solids().sort_by(Axis((145.116667, 0, 21.333333), (0, 1, 0)))[0], mode=Mode.SUBTRACT)
    add(cut_extrude5_tool2.solids().sort_by(Axis((0.583333, 0, 21.333333), (0, 1, 0)))[0], mode=Mode.SUBTRACT)

    # Cut-Extrude6: up to this face of the body (flat: up to its plane)
    cut_extrude6_end = Plane(part.part.faces().sort_by_distance((145.7, 22.5, 10))[0])
    # Sketch21 → Cut-Extrude6 (cut, up to the picked face)
    with BuildSketch(Plane.ZY, mode=Mode.PRIVATE) as cut_extrude6_sk1:
        with Locations(Location((10, 22.5, 0), (0, 0, 180))):
            Circle(SKETCH21_R)
    cut_extrude6_tool1 = split(extrude(cut_extrude6_sk1.sketch, amount=-CUT_EXTRUDE6_REACH, mode=Mode.PRIVATE), bisect_by=cut_extrude6_end, keep=Keep.BOTH, mode=Mode.PRIVATE)
    add(cut_extrude6_tool1.solids().sort_by(Axis((0, 22.5, 10), (1, 0, 0)))[0], mode=Mode.SUBTRACT)


solid = part.part
